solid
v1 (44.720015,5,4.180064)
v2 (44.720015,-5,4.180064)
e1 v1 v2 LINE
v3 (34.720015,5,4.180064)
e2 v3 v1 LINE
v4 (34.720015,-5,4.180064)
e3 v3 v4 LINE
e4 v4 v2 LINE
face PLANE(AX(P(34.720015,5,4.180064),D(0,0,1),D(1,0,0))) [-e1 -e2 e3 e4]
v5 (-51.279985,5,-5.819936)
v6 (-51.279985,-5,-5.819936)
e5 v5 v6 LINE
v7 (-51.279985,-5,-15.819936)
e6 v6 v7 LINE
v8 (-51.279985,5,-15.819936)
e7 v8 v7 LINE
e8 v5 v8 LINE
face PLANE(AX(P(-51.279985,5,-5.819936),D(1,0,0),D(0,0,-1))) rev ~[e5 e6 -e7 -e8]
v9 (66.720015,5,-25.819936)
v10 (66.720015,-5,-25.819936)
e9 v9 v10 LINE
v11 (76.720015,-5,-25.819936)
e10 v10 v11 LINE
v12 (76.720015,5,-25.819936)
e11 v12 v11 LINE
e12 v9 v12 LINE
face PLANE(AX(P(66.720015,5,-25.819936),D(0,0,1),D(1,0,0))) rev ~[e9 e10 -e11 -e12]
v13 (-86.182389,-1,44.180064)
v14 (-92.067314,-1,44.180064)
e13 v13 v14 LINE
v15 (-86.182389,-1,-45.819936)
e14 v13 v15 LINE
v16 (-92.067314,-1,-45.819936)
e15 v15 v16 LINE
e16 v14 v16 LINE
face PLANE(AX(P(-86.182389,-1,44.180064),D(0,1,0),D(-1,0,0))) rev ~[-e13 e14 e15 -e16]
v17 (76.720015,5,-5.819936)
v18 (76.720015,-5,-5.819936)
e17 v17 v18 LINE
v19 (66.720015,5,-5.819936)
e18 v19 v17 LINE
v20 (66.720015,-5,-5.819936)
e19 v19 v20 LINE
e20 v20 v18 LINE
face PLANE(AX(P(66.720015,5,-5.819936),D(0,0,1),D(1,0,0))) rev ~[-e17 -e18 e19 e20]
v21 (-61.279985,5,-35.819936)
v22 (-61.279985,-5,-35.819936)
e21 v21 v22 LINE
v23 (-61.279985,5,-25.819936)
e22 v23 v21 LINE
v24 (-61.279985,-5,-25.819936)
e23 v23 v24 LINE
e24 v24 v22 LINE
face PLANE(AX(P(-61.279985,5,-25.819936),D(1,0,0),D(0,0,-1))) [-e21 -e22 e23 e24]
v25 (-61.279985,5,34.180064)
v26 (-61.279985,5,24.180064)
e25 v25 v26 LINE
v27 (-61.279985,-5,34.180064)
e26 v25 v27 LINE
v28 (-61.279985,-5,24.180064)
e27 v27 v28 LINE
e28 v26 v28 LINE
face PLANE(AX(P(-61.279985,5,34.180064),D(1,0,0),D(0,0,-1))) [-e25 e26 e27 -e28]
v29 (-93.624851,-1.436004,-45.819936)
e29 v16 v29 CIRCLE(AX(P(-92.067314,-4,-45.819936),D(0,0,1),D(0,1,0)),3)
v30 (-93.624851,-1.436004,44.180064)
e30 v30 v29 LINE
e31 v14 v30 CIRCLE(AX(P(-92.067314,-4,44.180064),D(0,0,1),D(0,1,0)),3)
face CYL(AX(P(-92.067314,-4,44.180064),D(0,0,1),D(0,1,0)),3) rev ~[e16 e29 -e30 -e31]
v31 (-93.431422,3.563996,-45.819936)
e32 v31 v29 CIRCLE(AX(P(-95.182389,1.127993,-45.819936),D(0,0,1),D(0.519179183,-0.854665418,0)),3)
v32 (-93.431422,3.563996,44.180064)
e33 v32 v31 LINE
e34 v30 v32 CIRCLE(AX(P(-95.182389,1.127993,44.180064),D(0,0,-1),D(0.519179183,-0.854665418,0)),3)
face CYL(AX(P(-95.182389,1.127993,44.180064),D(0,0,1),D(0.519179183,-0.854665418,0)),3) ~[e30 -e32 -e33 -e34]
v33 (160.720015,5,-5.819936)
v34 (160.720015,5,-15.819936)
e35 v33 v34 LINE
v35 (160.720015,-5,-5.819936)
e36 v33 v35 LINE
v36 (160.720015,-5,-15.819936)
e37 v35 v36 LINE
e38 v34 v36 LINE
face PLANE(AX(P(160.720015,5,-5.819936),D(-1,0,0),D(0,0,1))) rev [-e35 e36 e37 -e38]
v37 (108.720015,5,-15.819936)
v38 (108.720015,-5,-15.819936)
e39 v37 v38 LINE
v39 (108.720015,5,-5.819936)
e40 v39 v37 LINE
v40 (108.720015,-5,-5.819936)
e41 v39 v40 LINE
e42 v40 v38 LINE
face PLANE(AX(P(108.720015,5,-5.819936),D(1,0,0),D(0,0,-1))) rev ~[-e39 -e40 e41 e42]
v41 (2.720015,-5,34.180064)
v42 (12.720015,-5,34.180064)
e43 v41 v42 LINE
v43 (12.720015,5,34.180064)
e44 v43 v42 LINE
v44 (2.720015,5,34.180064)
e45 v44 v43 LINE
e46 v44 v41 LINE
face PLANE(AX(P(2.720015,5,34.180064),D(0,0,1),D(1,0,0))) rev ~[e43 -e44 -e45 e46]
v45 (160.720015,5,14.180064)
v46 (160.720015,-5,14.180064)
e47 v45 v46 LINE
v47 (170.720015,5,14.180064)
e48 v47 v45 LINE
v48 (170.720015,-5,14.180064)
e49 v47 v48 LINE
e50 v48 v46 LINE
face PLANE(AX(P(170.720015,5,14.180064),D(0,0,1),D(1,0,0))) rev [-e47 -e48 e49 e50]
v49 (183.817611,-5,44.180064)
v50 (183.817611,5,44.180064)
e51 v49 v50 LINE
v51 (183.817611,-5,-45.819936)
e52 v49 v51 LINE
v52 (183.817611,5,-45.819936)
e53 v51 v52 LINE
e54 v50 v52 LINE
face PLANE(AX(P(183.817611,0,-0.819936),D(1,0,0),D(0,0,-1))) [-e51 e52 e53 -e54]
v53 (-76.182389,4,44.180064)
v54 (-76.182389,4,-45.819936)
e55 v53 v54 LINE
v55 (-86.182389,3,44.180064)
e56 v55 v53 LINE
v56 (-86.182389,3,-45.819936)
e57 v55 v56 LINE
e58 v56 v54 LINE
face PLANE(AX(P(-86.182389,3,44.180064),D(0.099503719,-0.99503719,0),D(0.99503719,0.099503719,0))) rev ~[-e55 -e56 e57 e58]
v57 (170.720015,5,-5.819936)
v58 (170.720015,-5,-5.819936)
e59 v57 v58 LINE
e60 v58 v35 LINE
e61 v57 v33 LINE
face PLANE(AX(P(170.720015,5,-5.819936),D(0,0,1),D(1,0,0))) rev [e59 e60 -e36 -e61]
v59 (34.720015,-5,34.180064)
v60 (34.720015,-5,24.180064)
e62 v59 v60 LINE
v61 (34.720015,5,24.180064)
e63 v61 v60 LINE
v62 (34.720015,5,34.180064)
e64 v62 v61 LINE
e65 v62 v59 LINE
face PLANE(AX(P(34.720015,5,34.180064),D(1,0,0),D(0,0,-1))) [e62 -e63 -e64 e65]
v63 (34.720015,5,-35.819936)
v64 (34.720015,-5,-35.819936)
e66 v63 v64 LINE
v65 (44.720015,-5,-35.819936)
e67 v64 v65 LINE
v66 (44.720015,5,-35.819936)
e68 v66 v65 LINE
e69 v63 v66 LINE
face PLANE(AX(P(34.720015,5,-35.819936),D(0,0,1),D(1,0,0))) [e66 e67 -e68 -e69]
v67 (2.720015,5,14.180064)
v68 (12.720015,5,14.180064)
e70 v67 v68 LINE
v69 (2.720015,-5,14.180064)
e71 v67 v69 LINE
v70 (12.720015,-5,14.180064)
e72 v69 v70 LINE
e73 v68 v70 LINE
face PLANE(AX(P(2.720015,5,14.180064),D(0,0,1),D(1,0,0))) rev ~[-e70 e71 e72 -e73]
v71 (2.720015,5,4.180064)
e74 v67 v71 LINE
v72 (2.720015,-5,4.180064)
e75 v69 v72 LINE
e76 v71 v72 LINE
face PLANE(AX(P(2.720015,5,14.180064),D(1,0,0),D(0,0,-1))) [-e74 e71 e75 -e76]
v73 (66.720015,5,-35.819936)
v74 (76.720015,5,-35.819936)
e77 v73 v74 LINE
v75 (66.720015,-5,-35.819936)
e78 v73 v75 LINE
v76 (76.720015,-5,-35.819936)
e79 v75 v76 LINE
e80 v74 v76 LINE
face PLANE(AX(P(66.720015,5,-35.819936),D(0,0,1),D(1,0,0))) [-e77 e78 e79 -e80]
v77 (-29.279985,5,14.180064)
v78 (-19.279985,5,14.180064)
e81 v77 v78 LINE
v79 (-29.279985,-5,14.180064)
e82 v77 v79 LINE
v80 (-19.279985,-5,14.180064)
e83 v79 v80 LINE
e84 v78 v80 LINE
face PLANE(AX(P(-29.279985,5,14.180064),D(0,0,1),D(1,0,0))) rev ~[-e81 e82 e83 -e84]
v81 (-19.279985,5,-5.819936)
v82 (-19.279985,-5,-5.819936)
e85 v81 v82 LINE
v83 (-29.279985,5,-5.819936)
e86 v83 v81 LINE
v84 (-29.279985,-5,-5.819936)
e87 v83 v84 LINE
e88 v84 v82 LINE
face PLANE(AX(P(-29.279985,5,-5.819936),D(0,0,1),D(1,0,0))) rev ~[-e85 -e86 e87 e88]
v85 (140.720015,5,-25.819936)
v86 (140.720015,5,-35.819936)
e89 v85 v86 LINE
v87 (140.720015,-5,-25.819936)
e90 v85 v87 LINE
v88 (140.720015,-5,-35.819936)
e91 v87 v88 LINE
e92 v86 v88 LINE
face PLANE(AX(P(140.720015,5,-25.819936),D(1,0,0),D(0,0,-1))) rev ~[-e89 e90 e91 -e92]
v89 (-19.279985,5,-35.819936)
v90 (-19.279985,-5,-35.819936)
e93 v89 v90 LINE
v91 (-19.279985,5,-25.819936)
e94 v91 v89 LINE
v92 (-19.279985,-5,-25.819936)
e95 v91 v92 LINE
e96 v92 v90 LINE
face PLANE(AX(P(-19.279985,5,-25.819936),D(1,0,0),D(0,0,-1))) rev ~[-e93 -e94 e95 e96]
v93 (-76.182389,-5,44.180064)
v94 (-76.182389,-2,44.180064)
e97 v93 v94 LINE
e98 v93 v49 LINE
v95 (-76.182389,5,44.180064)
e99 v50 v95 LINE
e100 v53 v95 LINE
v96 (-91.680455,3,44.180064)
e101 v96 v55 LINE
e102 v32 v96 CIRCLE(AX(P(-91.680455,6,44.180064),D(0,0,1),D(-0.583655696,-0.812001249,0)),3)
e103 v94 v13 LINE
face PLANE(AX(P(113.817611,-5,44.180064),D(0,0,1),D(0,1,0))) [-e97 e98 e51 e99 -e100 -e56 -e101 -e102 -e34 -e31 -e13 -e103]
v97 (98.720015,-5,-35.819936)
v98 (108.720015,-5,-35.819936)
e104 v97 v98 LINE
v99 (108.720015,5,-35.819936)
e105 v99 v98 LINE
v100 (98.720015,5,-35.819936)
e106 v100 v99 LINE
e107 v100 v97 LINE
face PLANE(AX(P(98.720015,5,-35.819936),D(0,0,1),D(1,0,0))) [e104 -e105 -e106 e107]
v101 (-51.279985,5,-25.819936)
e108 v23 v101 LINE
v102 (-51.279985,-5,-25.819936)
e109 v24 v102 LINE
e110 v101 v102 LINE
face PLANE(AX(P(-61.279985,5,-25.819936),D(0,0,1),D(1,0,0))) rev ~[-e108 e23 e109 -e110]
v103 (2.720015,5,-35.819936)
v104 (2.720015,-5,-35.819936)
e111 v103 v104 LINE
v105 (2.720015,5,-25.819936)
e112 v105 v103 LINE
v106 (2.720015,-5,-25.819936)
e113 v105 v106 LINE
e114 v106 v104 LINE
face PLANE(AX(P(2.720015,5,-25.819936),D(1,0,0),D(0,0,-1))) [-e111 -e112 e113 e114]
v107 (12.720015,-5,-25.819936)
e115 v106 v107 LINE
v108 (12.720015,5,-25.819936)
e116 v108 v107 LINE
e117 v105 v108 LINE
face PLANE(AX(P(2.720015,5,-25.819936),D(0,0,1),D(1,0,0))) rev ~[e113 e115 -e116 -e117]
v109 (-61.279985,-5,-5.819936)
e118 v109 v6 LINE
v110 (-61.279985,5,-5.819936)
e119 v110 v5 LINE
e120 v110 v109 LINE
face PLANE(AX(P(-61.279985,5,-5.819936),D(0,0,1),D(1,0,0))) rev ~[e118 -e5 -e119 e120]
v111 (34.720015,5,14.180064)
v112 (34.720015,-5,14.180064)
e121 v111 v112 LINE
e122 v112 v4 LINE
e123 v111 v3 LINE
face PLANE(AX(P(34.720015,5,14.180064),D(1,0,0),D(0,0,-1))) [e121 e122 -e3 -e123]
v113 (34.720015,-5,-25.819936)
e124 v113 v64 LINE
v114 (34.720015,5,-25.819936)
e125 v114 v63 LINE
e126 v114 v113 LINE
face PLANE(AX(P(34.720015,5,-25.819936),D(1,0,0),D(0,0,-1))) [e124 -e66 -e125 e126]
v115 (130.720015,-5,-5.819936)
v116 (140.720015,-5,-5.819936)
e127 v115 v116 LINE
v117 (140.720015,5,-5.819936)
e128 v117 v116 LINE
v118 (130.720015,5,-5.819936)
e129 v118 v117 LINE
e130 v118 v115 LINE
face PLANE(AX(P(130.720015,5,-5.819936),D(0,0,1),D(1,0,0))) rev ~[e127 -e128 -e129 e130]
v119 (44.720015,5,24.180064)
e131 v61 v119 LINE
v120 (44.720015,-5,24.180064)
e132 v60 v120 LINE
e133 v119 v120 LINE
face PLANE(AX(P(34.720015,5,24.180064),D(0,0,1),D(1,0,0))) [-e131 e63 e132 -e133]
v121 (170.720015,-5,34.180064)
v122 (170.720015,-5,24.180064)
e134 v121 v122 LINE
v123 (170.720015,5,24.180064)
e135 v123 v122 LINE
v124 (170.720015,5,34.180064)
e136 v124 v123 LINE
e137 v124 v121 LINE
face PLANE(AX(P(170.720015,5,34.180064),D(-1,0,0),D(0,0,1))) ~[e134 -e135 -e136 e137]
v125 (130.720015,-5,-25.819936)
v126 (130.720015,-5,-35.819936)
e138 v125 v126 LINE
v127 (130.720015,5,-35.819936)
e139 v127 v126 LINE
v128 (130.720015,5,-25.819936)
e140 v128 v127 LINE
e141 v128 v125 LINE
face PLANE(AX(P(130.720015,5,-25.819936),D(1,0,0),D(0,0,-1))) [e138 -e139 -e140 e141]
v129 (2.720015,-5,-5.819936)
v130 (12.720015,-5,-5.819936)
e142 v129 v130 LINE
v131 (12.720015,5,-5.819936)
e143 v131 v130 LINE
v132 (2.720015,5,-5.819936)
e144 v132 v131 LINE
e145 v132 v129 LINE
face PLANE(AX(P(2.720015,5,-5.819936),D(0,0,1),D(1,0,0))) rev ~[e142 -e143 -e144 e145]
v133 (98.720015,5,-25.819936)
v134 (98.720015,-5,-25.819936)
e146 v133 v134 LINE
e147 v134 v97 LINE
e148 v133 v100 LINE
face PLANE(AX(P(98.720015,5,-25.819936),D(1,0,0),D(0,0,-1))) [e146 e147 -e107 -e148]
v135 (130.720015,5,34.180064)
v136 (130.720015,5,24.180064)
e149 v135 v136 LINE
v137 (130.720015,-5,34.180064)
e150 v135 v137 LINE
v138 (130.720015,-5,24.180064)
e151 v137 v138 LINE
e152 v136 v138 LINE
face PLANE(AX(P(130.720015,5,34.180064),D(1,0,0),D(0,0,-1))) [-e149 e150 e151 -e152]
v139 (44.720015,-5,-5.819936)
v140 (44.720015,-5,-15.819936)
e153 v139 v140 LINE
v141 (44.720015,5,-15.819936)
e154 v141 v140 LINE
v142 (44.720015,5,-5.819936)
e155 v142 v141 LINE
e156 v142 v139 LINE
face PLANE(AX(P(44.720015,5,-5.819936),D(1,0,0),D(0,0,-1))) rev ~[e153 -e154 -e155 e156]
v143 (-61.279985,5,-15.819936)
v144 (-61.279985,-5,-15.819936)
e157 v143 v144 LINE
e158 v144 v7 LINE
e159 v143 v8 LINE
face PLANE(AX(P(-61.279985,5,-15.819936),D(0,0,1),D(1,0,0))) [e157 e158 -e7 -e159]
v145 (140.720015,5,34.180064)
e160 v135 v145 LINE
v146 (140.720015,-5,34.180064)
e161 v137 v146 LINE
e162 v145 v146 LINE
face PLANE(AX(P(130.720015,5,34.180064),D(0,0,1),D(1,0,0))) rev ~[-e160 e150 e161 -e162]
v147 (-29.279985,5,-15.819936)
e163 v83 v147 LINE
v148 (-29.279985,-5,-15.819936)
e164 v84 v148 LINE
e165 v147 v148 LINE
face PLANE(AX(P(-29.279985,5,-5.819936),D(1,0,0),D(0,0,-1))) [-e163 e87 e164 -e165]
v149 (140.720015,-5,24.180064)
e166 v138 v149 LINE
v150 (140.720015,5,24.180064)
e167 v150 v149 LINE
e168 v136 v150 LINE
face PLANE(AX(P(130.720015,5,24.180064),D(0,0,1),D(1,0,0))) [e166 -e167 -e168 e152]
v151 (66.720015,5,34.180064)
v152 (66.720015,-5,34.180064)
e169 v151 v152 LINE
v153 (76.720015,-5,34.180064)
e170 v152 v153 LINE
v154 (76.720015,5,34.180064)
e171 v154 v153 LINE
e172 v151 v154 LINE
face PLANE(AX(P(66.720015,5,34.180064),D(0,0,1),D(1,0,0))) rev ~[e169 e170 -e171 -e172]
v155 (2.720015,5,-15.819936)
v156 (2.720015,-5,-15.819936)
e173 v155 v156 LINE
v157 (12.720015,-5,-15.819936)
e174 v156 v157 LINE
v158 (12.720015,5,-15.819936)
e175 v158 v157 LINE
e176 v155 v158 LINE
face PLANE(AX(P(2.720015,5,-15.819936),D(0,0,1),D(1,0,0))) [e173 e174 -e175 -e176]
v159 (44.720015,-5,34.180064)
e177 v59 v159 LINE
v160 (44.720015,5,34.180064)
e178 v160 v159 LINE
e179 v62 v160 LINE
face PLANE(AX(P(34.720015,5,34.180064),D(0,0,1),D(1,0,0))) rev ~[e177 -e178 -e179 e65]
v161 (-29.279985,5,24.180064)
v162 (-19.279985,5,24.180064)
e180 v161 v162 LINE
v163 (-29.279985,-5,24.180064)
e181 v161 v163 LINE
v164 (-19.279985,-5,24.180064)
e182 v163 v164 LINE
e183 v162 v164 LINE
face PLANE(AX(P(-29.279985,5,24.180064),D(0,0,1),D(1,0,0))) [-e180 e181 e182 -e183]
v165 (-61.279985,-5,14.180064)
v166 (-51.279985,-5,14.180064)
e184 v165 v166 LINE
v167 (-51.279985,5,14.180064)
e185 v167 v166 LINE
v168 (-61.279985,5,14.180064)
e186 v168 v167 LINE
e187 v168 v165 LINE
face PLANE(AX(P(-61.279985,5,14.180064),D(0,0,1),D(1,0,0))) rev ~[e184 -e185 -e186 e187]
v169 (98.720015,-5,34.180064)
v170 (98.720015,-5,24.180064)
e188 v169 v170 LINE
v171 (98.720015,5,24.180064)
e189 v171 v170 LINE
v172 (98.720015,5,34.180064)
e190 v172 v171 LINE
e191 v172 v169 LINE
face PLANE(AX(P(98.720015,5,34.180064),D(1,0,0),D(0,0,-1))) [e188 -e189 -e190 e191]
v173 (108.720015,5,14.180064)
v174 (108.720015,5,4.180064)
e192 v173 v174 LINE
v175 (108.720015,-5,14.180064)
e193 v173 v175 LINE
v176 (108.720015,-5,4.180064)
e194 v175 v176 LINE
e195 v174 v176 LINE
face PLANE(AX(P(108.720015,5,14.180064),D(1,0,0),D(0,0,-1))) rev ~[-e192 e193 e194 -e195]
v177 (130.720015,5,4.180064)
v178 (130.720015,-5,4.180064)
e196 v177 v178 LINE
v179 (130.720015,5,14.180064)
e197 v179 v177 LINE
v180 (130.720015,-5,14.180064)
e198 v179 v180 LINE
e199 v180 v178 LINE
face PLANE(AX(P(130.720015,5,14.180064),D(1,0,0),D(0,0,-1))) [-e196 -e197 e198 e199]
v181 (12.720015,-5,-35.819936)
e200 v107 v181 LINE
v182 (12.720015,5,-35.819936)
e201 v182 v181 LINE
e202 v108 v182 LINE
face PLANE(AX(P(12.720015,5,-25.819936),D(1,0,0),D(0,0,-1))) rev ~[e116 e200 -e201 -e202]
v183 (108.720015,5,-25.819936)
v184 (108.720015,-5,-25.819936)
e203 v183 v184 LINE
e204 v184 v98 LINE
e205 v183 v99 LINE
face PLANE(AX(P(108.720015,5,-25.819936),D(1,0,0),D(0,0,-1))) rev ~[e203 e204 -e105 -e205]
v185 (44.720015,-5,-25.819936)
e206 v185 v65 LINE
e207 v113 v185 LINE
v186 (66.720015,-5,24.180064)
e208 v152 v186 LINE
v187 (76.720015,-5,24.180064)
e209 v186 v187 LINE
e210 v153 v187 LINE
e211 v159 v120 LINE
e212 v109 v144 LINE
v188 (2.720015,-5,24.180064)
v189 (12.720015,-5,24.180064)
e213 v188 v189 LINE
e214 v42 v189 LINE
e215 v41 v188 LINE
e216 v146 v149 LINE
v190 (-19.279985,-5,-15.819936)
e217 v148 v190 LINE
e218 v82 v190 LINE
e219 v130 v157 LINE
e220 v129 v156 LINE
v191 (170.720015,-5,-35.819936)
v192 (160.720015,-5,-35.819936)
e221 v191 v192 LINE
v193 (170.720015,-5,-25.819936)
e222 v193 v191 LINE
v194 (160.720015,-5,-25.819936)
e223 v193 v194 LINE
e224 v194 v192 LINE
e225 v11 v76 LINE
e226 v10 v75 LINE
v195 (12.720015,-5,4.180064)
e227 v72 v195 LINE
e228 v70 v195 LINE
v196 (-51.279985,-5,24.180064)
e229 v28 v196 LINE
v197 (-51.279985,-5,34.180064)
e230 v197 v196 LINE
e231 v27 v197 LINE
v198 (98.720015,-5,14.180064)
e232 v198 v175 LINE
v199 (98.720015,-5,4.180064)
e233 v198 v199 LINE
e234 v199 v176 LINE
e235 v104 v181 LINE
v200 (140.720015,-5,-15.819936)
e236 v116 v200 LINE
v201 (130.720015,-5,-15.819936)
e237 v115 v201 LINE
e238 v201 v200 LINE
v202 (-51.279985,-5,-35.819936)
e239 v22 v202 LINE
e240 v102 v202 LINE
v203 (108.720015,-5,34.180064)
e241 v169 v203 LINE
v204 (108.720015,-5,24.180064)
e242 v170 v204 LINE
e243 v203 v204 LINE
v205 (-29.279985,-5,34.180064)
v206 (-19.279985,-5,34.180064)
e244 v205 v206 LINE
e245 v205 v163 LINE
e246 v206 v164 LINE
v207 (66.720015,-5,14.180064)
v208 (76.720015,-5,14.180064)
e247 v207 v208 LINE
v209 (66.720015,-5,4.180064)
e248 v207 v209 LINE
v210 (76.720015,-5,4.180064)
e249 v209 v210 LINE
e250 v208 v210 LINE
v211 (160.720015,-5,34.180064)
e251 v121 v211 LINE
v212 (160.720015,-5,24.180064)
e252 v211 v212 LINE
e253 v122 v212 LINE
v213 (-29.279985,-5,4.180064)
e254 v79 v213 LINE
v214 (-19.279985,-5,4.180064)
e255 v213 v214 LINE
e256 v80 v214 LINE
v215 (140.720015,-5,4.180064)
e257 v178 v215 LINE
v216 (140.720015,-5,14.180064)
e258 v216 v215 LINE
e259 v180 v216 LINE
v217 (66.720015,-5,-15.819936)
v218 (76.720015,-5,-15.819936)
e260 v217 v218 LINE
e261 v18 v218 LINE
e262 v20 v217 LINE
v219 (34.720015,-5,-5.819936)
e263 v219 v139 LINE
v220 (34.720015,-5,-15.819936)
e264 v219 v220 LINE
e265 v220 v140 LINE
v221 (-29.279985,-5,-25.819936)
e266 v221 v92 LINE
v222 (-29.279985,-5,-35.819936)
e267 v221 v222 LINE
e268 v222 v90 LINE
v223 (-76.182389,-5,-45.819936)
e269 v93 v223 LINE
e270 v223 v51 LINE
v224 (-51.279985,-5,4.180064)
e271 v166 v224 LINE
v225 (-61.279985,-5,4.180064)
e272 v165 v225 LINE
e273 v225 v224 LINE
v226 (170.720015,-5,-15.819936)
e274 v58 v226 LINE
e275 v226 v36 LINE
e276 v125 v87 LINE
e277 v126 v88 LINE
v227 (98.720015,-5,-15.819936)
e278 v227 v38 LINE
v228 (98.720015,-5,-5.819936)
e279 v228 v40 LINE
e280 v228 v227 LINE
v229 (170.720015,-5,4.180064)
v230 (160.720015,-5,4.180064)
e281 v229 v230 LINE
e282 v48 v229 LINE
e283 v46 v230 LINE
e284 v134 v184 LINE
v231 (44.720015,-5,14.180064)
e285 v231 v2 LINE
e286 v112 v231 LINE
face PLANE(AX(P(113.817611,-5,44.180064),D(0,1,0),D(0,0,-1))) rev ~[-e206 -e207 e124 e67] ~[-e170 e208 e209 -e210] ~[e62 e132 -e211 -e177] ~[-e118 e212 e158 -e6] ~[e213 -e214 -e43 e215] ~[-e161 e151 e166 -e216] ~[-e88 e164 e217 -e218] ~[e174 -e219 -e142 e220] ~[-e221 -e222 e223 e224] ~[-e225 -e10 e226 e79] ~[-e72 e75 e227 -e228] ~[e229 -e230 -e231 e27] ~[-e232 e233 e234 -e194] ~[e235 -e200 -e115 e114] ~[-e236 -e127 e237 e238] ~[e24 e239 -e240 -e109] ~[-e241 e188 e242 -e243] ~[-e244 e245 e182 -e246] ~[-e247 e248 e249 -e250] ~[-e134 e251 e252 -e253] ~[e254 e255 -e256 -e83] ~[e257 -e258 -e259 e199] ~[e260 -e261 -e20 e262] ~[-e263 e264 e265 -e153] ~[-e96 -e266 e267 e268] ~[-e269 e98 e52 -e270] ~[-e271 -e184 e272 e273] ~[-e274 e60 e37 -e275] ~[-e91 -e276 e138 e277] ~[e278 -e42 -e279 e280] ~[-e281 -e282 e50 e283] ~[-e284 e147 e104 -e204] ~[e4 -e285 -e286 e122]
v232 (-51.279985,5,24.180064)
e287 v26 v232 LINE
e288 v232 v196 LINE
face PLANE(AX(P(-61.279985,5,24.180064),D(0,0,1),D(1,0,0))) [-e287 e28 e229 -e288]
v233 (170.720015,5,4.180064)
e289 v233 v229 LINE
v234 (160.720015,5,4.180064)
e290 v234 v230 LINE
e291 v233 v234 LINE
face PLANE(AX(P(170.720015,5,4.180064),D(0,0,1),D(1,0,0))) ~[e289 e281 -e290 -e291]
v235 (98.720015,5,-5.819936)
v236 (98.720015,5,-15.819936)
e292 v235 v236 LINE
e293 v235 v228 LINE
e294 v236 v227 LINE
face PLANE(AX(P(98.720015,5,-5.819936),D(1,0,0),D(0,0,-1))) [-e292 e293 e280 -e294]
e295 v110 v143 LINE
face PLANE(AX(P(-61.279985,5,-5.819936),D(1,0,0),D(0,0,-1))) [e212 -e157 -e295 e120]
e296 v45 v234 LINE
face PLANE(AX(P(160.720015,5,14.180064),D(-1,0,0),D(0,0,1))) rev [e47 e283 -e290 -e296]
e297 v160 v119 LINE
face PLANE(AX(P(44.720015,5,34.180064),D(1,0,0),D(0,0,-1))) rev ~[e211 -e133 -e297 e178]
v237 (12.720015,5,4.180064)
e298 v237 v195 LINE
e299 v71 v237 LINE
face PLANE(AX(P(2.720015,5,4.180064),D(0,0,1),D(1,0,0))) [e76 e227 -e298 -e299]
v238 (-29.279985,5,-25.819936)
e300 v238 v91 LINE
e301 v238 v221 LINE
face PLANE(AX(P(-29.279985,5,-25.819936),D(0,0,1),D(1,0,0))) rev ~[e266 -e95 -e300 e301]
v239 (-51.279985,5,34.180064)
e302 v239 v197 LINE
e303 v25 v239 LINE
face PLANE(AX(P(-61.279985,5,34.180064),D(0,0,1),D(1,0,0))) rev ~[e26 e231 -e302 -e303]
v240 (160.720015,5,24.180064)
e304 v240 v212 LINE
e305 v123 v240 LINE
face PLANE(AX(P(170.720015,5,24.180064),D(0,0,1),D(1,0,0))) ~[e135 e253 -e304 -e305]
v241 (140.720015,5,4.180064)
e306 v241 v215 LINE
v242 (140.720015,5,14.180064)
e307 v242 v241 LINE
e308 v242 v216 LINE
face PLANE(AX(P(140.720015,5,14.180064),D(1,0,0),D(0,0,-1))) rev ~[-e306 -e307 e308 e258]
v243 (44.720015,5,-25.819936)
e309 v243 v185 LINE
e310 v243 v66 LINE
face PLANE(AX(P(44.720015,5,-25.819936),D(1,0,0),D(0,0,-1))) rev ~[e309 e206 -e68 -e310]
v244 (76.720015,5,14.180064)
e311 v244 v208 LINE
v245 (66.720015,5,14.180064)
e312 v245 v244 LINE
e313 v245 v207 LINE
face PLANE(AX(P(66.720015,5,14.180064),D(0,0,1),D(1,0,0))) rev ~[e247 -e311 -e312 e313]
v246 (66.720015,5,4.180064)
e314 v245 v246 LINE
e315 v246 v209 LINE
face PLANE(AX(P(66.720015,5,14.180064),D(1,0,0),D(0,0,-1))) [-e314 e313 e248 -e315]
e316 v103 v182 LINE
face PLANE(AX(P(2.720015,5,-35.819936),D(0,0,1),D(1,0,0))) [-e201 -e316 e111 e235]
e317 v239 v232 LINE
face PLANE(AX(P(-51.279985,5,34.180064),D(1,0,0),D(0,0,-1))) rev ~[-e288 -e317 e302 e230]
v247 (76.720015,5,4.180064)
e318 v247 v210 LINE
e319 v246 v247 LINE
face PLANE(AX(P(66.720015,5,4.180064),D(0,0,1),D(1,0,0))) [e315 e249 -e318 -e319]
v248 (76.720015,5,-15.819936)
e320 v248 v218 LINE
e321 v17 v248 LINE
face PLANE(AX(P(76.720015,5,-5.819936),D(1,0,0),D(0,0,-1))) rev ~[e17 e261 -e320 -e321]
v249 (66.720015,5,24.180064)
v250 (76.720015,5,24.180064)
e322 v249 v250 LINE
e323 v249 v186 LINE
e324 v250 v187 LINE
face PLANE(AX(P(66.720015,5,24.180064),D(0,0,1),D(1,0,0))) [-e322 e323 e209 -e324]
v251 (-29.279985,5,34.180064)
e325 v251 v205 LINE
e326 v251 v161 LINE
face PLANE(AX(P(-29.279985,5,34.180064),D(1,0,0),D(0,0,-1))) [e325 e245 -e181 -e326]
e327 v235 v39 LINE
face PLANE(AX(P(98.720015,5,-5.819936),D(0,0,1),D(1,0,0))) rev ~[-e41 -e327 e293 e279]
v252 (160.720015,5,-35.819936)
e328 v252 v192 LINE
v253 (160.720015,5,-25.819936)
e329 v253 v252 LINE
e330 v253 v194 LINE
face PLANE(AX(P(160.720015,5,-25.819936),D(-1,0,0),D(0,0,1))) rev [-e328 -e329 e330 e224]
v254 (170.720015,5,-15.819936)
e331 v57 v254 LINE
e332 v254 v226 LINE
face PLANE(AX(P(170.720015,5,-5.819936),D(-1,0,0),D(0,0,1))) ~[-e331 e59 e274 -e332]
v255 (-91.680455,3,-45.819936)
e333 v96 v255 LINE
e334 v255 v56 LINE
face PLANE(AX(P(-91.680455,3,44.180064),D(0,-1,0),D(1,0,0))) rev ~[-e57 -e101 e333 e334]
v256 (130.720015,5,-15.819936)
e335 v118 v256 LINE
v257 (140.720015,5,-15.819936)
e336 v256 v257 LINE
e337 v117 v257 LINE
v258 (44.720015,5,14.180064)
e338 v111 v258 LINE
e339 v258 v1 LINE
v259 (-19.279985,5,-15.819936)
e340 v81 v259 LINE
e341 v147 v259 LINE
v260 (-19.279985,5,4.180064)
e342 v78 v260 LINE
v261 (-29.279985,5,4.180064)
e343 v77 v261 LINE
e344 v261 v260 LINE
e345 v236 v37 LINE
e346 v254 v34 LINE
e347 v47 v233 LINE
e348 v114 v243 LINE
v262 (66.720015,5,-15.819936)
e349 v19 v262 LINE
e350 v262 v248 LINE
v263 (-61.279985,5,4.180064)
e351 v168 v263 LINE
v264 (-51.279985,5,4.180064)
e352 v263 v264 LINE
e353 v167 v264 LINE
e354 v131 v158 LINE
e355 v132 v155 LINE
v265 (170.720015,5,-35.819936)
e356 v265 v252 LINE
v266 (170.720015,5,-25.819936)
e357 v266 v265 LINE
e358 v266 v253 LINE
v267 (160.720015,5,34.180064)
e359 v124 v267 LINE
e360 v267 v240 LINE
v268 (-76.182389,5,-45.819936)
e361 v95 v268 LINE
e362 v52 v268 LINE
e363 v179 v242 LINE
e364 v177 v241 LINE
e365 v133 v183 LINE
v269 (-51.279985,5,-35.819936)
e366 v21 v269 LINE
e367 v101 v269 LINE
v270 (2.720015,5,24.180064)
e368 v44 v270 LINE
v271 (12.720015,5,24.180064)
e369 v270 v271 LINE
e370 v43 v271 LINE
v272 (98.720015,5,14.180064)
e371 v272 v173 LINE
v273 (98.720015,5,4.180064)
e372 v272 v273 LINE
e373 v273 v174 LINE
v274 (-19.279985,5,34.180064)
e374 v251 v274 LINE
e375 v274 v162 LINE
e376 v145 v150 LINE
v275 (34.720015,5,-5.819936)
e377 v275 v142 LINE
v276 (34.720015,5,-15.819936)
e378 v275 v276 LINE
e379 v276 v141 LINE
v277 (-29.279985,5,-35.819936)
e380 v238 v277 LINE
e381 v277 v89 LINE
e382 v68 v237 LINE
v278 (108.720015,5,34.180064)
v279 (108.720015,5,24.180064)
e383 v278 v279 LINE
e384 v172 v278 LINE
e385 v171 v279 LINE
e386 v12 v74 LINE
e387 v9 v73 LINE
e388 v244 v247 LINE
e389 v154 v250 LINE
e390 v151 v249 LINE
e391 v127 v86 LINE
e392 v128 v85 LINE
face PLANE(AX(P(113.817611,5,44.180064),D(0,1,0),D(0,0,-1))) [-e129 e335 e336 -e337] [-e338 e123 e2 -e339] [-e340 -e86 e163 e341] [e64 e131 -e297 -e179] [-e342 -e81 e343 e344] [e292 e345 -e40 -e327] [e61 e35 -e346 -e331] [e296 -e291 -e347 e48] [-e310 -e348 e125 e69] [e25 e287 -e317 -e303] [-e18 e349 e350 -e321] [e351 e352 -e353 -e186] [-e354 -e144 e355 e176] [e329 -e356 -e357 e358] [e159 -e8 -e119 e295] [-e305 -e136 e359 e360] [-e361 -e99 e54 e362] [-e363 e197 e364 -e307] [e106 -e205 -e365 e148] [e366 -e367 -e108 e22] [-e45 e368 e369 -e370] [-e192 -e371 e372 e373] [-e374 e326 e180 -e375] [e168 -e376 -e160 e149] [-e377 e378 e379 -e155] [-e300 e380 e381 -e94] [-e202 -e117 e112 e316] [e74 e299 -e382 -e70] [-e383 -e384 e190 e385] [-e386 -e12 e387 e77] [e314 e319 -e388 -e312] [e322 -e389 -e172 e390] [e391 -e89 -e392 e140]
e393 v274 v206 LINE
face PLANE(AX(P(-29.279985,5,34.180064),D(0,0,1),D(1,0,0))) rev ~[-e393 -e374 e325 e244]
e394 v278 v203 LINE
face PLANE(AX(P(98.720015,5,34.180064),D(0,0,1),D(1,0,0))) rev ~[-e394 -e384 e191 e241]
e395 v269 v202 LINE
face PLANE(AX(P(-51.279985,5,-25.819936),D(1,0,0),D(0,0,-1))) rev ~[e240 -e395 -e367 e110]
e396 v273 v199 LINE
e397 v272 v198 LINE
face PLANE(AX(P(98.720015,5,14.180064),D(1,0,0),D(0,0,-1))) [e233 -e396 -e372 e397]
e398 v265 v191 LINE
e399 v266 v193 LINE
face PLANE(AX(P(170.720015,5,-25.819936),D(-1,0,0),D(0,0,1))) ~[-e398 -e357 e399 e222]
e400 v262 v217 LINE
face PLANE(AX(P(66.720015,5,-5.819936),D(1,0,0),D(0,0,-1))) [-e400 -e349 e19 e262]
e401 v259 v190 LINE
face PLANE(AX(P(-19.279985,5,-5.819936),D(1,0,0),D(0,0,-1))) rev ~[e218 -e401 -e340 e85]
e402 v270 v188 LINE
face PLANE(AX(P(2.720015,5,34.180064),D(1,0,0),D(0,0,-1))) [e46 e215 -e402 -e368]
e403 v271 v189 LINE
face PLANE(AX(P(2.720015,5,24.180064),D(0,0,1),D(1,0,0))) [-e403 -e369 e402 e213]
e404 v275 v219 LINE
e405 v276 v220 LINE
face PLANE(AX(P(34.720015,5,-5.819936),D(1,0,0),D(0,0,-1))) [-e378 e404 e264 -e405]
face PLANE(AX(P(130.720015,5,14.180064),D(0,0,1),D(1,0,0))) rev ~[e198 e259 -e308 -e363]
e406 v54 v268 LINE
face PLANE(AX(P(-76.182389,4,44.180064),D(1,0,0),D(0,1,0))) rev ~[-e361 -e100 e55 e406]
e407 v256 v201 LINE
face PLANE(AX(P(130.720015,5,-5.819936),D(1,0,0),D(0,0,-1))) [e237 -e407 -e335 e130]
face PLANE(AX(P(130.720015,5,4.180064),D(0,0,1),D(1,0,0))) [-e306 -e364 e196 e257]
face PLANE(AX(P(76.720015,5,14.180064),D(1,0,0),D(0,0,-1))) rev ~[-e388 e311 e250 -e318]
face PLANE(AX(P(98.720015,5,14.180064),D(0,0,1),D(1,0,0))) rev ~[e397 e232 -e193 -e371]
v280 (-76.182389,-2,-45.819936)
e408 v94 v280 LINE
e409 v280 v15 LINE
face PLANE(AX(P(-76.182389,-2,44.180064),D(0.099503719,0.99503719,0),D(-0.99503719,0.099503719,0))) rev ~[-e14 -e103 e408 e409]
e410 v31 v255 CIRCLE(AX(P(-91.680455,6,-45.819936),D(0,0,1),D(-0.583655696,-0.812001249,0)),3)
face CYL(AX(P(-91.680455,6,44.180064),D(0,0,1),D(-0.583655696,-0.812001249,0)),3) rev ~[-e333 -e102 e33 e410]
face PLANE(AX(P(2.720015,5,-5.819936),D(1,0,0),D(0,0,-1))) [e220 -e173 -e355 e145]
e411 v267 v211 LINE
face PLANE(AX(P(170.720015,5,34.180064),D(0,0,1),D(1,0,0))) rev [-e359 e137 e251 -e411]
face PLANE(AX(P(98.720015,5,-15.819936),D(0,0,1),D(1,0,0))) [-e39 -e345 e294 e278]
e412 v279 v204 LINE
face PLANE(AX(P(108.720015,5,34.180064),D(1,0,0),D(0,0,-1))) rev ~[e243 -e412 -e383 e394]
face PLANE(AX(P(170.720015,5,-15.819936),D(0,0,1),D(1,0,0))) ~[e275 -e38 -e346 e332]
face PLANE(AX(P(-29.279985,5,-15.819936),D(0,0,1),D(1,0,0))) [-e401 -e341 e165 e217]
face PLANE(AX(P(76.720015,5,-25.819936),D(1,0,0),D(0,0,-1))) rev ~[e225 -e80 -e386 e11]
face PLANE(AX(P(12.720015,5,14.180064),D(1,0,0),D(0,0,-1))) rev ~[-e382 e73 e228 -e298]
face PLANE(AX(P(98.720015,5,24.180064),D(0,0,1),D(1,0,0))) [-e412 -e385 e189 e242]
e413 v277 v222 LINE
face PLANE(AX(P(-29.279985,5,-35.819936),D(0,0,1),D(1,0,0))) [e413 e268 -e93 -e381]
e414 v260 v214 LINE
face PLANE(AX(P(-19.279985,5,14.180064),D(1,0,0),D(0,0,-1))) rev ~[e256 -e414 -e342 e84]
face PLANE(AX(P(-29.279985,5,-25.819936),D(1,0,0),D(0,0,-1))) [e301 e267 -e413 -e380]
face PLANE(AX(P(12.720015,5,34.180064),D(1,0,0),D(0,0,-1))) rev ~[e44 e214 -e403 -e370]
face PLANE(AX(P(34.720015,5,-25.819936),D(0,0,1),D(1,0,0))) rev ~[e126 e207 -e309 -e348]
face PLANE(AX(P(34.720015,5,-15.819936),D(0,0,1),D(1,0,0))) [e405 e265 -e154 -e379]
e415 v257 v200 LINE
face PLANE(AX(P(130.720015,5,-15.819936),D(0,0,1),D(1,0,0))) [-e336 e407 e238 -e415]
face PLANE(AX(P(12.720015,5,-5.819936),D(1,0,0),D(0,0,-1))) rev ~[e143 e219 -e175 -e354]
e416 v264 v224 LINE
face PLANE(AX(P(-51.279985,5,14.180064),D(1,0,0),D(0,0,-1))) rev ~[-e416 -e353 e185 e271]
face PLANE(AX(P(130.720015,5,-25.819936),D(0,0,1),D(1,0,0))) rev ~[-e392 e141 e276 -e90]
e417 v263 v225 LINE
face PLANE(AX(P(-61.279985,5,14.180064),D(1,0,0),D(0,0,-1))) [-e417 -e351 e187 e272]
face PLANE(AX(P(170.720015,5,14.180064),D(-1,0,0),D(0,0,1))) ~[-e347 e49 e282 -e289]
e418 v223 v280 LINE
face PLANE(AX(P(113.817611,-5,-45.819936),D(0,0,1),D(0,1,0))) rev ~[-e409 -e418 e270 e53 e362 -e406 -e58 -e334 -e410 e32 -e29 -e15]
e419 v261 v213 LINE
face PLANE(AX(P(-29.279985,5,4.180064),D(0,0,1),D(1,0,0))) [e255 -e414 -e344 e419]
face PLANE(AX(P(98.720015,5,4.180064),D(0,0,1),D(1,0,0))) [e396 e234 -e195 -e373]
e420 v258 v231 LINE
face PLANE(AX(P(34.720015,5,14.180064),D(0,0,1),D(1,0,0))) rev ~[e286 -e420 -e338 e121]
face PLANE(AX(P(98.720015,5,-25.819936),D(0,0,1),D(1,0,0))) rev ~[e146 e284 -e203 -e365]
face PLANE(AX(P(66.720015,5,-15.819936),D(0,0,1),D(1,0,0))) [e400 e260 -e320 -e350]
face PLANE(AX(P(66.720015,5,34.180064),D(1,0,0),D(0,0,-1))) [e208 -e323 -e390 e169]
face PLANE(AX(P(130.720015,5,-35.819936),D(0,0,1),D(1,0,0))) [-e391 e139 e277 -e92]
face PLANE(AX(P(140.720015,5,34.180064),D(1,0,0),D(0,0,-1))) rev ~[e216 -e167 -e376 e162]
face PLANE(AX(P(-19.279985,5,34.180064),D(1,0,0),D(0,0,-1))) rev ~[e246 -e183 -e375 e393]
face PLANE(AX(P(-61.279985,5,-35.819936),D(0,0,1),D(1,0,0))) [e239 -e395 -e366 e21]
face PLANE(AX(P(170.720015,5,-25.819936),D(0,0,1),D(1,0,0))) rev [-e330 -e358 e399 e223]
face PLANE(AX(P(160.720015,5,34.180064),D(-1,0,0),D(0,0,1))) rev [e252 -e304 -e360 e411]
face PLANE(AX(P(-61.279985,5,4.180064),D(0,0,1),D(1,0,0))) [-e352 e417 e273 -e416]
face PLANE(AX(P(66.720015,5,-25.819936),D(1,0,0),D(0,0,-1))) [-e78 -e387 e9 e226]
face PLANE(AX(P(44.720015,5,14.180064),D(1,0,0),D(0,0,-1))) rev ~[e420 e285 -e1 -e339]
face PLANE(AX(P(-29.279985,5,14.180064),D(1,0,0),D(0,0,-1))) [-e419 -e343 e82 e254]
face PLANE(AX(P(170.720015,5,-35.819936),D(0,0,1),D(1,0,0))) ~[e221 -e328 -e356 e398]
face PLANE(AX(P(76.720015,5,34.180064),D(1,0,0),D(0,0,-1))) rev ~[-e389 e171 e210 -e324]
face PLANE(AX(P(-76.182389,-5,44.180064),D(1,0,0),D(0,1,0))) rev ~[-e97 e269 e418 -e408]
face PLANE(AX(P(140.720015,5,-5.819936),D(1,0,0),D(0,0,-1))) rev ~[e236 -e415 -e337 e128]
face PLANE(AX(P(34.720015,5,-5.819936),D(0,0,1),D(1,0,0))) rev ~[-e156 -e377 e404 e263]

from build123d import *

# Parameters (mm, degrees)
SKETCH1_W           = 215
SKETCH1_H           = 90
BOSS_EXTRUDE1_DEPTH = 5
CUT_EXTRUDE2_DEPTH  = 146.187632354
SKETCH7_W           = 90
SKETCH7_H           = 10
BOSS_EXTRUDE3_DEPTH = 70
SKETCH8_W           = 10
SKETCH8_H           = 10
CUT_EXTRUDE4_DEPTH  = 38


with BuildPart() as part:
    # Sketch1 → Boss-Extrude1 (new, symmetric)
    with BuildSketch(Plane(origin=(0, 0, 0), x_dir=(1, 0, 0), z_dir=(0, 1, 0))):
        with Locations((6.317611065, 0.819935691)):
            Rectangle(SKETCH1_W, SKETCH1_H)
    extrude(amount=BOSS_EXTRUDE1_DEPTH, both=True)

    # Sketch3 → Cut-Extrude2 (cut, through all)
    with BuildSketch(Plane.XY.offset(44.180064309)):
        with BuildLine():
            Line((-101.182388935, -5), (-76.182388935, -5))
            Line((-76.182388935, -5), (-76.182388935, -2))
            Line((-76.182388935, -2), (-86.182388935, -1))
            Line((-86.182388935, -1), (-92.067313838, -1))
            ThreePointArc((-92.067313838, -1), (-92.876019978, -1.111056529), (-93.624851386, -1.436003747))
            ThreePointArc((-93.624851386, -1.436003747), (-98.180146552, 1.243963481), (-93.431421846, 3.563996253))
            ThreePointArc((-93.431421846, 3.563996253), (-92.600234286, 3.144478048), (-91.680454758, 3))
            Line((-91.680454758, 3), (-86.182388935, 3))
            Line((-86.182388935, 3), (-76.182388935, 4))
            Line((-76.182388935, 4), (-76.182388935, 5))
            Line((-76.182388935, 5), (-101.182388935, 5))
            Line((-101.182388935, 5), (-101.182388935, -5))
        make_face()
    extrude(amount=-CUT_EXTRUDE2_DEPTH, mode=Mode.SUBTRACT)

    # Sketch7 → Boss-Extrude3 (add)
    with BuildSketch(Plane(origin=(113.817611065, 0, 0), x_dir=(0, 0, -1), z_dir=(1, 0, 0))):
        with Locations((0.819935691, 0)):
            Rectangle(SKETCH7_W, SKETCH7_H)
    extrude(amount=BOSS_EXTRUDE3_DEPTH)

    # Sketch8 → Cut-Extrude4 (cut)
    with BuildSketch(Plane(origin=(0, 5, 0), x_dir=(1, 0, 0), z_dir=(0, 1, 0))):
        with Locations((-24.27998453, -29.180064309)):
            Rectangle(SKETCH8_W, SKETCH8_H)
        with Locations((-56.27998453, -29.180064309)):
            Rectangle(SKETCH8_W, SKETCH8_H)
        with Locations((7.72001547, -29.180064309)):
            Rectangle(SKETCH8_W, SKETCH8_H)
        with Locations((39.72001547, -29.180064309)):
            Rectangle(SKETCH8_W, SKETCH8_H)
        with Locations((71.72001547, -29.180064309)):
            Rectangle(SKETCH8_W, SKETCH8_H)
        with Locations((103.72001547, -29.180064309)):
            Rectangle(SKETCH8_W, SKETCH8_H)
        with Locations((135.72001547, -29.180064309)):
            Rectangle(SKETCH8_W, SKETCH8_H)
        with Locations((-24.27998453, -9.180064309)):
            Rectangle(SKETCH8_W, SKETCH8_H)
        with Locations((7.72001547, -9.180064309)):
            Rectangle(SKETCH8_W, SKETCH8_H)
        with Locations((39.72001547, -9.180064309)):
            Rectangle(SKETCH8_W, SKETCH8_H)
        with Locations((71.72001547, -9.180064309)):
            Rectangle(SKETCH8_W, SKETCH8_H)
        with Locations((103.72001547, -9.180064309)):
            Rectangle(SKETCH8_W, SKETCH8_H)
        with Locations((135.72001547, -9.180064309)):
            Rectangle(SKETCH8_W, SKETCH8_H)
        with Locations((-24.27998453, 10.819935691)):
            Rectangle(SKETCH8_W, SKETCH8_H)
        with Locations((7.72001547, 10.819935691)):
            Rectangle(SKETCH8_W, SKETCH8_H)
        with Locations((39.72001547, 10.819935691)):
            Rectangle(SKETCH8_W, SKETCH8_H)
        with Locations((71.72001547, 10.819935691)):
            Rectangle(SKETCH8_W, SKETCH8_H)
        with Locations((103.72001547, 10.819935691)):
            Rectangle(SKETCH8_W, SKETCH8_H)
        with Locations((135.72001547, 10.819935691)):
            Rectangle(SKETCH8_W, SKETCH8_H)
        with Locations((-24.27998453, 30.819935691)):
            Rectangle(SKETCH8_W, SKETCH8_H)
        with Locations((7.72001547, 30.819935691)):
            Rectangle(SKETCH8_W, SKETCH8_H)
        with Locations((39.72001547, 30.819935691)):
            Rectangle(SKETCH8_W, SKETCH8_H)
        with Locations((71.72001547, 30.819935691)):
            Rectangle(SKETCH8_W, SKETCH8_H)
        with Locations((103.72001547, 30.819935691)):
            Rectangle(SKETCH8_W, SKETCH8_H)
        with Locations((135.72001547, 30.819935691)):
            Rectangle(SKETCH8_W, SKETCH8_H)
        with Locations((-56.27998453, -9.180064309)):
            Rectangle(SKETCH8_W, SKETCH8_H)
        with Locations((-56.27998453, 10.819935691)):
            Rectangle(SKETCH8_W, SKETCH8_H)
        with Locations((-56.27998453, 30.819935691)):
            Rectangle(SKETCH8_W, SKETCH8_H)
    cut_extrude4 = extrude(amount=-CUT_EXTRUDE4_DEPTH, mode=Mode.SUBTRACT)

    # Mirror2: Cut-Extrude4 across plane
    add(cut_extrude4.mirror(Plane.ZY.offset(-150.72001547)), mode=Mode.SUBTRACT)


solid = part.part
